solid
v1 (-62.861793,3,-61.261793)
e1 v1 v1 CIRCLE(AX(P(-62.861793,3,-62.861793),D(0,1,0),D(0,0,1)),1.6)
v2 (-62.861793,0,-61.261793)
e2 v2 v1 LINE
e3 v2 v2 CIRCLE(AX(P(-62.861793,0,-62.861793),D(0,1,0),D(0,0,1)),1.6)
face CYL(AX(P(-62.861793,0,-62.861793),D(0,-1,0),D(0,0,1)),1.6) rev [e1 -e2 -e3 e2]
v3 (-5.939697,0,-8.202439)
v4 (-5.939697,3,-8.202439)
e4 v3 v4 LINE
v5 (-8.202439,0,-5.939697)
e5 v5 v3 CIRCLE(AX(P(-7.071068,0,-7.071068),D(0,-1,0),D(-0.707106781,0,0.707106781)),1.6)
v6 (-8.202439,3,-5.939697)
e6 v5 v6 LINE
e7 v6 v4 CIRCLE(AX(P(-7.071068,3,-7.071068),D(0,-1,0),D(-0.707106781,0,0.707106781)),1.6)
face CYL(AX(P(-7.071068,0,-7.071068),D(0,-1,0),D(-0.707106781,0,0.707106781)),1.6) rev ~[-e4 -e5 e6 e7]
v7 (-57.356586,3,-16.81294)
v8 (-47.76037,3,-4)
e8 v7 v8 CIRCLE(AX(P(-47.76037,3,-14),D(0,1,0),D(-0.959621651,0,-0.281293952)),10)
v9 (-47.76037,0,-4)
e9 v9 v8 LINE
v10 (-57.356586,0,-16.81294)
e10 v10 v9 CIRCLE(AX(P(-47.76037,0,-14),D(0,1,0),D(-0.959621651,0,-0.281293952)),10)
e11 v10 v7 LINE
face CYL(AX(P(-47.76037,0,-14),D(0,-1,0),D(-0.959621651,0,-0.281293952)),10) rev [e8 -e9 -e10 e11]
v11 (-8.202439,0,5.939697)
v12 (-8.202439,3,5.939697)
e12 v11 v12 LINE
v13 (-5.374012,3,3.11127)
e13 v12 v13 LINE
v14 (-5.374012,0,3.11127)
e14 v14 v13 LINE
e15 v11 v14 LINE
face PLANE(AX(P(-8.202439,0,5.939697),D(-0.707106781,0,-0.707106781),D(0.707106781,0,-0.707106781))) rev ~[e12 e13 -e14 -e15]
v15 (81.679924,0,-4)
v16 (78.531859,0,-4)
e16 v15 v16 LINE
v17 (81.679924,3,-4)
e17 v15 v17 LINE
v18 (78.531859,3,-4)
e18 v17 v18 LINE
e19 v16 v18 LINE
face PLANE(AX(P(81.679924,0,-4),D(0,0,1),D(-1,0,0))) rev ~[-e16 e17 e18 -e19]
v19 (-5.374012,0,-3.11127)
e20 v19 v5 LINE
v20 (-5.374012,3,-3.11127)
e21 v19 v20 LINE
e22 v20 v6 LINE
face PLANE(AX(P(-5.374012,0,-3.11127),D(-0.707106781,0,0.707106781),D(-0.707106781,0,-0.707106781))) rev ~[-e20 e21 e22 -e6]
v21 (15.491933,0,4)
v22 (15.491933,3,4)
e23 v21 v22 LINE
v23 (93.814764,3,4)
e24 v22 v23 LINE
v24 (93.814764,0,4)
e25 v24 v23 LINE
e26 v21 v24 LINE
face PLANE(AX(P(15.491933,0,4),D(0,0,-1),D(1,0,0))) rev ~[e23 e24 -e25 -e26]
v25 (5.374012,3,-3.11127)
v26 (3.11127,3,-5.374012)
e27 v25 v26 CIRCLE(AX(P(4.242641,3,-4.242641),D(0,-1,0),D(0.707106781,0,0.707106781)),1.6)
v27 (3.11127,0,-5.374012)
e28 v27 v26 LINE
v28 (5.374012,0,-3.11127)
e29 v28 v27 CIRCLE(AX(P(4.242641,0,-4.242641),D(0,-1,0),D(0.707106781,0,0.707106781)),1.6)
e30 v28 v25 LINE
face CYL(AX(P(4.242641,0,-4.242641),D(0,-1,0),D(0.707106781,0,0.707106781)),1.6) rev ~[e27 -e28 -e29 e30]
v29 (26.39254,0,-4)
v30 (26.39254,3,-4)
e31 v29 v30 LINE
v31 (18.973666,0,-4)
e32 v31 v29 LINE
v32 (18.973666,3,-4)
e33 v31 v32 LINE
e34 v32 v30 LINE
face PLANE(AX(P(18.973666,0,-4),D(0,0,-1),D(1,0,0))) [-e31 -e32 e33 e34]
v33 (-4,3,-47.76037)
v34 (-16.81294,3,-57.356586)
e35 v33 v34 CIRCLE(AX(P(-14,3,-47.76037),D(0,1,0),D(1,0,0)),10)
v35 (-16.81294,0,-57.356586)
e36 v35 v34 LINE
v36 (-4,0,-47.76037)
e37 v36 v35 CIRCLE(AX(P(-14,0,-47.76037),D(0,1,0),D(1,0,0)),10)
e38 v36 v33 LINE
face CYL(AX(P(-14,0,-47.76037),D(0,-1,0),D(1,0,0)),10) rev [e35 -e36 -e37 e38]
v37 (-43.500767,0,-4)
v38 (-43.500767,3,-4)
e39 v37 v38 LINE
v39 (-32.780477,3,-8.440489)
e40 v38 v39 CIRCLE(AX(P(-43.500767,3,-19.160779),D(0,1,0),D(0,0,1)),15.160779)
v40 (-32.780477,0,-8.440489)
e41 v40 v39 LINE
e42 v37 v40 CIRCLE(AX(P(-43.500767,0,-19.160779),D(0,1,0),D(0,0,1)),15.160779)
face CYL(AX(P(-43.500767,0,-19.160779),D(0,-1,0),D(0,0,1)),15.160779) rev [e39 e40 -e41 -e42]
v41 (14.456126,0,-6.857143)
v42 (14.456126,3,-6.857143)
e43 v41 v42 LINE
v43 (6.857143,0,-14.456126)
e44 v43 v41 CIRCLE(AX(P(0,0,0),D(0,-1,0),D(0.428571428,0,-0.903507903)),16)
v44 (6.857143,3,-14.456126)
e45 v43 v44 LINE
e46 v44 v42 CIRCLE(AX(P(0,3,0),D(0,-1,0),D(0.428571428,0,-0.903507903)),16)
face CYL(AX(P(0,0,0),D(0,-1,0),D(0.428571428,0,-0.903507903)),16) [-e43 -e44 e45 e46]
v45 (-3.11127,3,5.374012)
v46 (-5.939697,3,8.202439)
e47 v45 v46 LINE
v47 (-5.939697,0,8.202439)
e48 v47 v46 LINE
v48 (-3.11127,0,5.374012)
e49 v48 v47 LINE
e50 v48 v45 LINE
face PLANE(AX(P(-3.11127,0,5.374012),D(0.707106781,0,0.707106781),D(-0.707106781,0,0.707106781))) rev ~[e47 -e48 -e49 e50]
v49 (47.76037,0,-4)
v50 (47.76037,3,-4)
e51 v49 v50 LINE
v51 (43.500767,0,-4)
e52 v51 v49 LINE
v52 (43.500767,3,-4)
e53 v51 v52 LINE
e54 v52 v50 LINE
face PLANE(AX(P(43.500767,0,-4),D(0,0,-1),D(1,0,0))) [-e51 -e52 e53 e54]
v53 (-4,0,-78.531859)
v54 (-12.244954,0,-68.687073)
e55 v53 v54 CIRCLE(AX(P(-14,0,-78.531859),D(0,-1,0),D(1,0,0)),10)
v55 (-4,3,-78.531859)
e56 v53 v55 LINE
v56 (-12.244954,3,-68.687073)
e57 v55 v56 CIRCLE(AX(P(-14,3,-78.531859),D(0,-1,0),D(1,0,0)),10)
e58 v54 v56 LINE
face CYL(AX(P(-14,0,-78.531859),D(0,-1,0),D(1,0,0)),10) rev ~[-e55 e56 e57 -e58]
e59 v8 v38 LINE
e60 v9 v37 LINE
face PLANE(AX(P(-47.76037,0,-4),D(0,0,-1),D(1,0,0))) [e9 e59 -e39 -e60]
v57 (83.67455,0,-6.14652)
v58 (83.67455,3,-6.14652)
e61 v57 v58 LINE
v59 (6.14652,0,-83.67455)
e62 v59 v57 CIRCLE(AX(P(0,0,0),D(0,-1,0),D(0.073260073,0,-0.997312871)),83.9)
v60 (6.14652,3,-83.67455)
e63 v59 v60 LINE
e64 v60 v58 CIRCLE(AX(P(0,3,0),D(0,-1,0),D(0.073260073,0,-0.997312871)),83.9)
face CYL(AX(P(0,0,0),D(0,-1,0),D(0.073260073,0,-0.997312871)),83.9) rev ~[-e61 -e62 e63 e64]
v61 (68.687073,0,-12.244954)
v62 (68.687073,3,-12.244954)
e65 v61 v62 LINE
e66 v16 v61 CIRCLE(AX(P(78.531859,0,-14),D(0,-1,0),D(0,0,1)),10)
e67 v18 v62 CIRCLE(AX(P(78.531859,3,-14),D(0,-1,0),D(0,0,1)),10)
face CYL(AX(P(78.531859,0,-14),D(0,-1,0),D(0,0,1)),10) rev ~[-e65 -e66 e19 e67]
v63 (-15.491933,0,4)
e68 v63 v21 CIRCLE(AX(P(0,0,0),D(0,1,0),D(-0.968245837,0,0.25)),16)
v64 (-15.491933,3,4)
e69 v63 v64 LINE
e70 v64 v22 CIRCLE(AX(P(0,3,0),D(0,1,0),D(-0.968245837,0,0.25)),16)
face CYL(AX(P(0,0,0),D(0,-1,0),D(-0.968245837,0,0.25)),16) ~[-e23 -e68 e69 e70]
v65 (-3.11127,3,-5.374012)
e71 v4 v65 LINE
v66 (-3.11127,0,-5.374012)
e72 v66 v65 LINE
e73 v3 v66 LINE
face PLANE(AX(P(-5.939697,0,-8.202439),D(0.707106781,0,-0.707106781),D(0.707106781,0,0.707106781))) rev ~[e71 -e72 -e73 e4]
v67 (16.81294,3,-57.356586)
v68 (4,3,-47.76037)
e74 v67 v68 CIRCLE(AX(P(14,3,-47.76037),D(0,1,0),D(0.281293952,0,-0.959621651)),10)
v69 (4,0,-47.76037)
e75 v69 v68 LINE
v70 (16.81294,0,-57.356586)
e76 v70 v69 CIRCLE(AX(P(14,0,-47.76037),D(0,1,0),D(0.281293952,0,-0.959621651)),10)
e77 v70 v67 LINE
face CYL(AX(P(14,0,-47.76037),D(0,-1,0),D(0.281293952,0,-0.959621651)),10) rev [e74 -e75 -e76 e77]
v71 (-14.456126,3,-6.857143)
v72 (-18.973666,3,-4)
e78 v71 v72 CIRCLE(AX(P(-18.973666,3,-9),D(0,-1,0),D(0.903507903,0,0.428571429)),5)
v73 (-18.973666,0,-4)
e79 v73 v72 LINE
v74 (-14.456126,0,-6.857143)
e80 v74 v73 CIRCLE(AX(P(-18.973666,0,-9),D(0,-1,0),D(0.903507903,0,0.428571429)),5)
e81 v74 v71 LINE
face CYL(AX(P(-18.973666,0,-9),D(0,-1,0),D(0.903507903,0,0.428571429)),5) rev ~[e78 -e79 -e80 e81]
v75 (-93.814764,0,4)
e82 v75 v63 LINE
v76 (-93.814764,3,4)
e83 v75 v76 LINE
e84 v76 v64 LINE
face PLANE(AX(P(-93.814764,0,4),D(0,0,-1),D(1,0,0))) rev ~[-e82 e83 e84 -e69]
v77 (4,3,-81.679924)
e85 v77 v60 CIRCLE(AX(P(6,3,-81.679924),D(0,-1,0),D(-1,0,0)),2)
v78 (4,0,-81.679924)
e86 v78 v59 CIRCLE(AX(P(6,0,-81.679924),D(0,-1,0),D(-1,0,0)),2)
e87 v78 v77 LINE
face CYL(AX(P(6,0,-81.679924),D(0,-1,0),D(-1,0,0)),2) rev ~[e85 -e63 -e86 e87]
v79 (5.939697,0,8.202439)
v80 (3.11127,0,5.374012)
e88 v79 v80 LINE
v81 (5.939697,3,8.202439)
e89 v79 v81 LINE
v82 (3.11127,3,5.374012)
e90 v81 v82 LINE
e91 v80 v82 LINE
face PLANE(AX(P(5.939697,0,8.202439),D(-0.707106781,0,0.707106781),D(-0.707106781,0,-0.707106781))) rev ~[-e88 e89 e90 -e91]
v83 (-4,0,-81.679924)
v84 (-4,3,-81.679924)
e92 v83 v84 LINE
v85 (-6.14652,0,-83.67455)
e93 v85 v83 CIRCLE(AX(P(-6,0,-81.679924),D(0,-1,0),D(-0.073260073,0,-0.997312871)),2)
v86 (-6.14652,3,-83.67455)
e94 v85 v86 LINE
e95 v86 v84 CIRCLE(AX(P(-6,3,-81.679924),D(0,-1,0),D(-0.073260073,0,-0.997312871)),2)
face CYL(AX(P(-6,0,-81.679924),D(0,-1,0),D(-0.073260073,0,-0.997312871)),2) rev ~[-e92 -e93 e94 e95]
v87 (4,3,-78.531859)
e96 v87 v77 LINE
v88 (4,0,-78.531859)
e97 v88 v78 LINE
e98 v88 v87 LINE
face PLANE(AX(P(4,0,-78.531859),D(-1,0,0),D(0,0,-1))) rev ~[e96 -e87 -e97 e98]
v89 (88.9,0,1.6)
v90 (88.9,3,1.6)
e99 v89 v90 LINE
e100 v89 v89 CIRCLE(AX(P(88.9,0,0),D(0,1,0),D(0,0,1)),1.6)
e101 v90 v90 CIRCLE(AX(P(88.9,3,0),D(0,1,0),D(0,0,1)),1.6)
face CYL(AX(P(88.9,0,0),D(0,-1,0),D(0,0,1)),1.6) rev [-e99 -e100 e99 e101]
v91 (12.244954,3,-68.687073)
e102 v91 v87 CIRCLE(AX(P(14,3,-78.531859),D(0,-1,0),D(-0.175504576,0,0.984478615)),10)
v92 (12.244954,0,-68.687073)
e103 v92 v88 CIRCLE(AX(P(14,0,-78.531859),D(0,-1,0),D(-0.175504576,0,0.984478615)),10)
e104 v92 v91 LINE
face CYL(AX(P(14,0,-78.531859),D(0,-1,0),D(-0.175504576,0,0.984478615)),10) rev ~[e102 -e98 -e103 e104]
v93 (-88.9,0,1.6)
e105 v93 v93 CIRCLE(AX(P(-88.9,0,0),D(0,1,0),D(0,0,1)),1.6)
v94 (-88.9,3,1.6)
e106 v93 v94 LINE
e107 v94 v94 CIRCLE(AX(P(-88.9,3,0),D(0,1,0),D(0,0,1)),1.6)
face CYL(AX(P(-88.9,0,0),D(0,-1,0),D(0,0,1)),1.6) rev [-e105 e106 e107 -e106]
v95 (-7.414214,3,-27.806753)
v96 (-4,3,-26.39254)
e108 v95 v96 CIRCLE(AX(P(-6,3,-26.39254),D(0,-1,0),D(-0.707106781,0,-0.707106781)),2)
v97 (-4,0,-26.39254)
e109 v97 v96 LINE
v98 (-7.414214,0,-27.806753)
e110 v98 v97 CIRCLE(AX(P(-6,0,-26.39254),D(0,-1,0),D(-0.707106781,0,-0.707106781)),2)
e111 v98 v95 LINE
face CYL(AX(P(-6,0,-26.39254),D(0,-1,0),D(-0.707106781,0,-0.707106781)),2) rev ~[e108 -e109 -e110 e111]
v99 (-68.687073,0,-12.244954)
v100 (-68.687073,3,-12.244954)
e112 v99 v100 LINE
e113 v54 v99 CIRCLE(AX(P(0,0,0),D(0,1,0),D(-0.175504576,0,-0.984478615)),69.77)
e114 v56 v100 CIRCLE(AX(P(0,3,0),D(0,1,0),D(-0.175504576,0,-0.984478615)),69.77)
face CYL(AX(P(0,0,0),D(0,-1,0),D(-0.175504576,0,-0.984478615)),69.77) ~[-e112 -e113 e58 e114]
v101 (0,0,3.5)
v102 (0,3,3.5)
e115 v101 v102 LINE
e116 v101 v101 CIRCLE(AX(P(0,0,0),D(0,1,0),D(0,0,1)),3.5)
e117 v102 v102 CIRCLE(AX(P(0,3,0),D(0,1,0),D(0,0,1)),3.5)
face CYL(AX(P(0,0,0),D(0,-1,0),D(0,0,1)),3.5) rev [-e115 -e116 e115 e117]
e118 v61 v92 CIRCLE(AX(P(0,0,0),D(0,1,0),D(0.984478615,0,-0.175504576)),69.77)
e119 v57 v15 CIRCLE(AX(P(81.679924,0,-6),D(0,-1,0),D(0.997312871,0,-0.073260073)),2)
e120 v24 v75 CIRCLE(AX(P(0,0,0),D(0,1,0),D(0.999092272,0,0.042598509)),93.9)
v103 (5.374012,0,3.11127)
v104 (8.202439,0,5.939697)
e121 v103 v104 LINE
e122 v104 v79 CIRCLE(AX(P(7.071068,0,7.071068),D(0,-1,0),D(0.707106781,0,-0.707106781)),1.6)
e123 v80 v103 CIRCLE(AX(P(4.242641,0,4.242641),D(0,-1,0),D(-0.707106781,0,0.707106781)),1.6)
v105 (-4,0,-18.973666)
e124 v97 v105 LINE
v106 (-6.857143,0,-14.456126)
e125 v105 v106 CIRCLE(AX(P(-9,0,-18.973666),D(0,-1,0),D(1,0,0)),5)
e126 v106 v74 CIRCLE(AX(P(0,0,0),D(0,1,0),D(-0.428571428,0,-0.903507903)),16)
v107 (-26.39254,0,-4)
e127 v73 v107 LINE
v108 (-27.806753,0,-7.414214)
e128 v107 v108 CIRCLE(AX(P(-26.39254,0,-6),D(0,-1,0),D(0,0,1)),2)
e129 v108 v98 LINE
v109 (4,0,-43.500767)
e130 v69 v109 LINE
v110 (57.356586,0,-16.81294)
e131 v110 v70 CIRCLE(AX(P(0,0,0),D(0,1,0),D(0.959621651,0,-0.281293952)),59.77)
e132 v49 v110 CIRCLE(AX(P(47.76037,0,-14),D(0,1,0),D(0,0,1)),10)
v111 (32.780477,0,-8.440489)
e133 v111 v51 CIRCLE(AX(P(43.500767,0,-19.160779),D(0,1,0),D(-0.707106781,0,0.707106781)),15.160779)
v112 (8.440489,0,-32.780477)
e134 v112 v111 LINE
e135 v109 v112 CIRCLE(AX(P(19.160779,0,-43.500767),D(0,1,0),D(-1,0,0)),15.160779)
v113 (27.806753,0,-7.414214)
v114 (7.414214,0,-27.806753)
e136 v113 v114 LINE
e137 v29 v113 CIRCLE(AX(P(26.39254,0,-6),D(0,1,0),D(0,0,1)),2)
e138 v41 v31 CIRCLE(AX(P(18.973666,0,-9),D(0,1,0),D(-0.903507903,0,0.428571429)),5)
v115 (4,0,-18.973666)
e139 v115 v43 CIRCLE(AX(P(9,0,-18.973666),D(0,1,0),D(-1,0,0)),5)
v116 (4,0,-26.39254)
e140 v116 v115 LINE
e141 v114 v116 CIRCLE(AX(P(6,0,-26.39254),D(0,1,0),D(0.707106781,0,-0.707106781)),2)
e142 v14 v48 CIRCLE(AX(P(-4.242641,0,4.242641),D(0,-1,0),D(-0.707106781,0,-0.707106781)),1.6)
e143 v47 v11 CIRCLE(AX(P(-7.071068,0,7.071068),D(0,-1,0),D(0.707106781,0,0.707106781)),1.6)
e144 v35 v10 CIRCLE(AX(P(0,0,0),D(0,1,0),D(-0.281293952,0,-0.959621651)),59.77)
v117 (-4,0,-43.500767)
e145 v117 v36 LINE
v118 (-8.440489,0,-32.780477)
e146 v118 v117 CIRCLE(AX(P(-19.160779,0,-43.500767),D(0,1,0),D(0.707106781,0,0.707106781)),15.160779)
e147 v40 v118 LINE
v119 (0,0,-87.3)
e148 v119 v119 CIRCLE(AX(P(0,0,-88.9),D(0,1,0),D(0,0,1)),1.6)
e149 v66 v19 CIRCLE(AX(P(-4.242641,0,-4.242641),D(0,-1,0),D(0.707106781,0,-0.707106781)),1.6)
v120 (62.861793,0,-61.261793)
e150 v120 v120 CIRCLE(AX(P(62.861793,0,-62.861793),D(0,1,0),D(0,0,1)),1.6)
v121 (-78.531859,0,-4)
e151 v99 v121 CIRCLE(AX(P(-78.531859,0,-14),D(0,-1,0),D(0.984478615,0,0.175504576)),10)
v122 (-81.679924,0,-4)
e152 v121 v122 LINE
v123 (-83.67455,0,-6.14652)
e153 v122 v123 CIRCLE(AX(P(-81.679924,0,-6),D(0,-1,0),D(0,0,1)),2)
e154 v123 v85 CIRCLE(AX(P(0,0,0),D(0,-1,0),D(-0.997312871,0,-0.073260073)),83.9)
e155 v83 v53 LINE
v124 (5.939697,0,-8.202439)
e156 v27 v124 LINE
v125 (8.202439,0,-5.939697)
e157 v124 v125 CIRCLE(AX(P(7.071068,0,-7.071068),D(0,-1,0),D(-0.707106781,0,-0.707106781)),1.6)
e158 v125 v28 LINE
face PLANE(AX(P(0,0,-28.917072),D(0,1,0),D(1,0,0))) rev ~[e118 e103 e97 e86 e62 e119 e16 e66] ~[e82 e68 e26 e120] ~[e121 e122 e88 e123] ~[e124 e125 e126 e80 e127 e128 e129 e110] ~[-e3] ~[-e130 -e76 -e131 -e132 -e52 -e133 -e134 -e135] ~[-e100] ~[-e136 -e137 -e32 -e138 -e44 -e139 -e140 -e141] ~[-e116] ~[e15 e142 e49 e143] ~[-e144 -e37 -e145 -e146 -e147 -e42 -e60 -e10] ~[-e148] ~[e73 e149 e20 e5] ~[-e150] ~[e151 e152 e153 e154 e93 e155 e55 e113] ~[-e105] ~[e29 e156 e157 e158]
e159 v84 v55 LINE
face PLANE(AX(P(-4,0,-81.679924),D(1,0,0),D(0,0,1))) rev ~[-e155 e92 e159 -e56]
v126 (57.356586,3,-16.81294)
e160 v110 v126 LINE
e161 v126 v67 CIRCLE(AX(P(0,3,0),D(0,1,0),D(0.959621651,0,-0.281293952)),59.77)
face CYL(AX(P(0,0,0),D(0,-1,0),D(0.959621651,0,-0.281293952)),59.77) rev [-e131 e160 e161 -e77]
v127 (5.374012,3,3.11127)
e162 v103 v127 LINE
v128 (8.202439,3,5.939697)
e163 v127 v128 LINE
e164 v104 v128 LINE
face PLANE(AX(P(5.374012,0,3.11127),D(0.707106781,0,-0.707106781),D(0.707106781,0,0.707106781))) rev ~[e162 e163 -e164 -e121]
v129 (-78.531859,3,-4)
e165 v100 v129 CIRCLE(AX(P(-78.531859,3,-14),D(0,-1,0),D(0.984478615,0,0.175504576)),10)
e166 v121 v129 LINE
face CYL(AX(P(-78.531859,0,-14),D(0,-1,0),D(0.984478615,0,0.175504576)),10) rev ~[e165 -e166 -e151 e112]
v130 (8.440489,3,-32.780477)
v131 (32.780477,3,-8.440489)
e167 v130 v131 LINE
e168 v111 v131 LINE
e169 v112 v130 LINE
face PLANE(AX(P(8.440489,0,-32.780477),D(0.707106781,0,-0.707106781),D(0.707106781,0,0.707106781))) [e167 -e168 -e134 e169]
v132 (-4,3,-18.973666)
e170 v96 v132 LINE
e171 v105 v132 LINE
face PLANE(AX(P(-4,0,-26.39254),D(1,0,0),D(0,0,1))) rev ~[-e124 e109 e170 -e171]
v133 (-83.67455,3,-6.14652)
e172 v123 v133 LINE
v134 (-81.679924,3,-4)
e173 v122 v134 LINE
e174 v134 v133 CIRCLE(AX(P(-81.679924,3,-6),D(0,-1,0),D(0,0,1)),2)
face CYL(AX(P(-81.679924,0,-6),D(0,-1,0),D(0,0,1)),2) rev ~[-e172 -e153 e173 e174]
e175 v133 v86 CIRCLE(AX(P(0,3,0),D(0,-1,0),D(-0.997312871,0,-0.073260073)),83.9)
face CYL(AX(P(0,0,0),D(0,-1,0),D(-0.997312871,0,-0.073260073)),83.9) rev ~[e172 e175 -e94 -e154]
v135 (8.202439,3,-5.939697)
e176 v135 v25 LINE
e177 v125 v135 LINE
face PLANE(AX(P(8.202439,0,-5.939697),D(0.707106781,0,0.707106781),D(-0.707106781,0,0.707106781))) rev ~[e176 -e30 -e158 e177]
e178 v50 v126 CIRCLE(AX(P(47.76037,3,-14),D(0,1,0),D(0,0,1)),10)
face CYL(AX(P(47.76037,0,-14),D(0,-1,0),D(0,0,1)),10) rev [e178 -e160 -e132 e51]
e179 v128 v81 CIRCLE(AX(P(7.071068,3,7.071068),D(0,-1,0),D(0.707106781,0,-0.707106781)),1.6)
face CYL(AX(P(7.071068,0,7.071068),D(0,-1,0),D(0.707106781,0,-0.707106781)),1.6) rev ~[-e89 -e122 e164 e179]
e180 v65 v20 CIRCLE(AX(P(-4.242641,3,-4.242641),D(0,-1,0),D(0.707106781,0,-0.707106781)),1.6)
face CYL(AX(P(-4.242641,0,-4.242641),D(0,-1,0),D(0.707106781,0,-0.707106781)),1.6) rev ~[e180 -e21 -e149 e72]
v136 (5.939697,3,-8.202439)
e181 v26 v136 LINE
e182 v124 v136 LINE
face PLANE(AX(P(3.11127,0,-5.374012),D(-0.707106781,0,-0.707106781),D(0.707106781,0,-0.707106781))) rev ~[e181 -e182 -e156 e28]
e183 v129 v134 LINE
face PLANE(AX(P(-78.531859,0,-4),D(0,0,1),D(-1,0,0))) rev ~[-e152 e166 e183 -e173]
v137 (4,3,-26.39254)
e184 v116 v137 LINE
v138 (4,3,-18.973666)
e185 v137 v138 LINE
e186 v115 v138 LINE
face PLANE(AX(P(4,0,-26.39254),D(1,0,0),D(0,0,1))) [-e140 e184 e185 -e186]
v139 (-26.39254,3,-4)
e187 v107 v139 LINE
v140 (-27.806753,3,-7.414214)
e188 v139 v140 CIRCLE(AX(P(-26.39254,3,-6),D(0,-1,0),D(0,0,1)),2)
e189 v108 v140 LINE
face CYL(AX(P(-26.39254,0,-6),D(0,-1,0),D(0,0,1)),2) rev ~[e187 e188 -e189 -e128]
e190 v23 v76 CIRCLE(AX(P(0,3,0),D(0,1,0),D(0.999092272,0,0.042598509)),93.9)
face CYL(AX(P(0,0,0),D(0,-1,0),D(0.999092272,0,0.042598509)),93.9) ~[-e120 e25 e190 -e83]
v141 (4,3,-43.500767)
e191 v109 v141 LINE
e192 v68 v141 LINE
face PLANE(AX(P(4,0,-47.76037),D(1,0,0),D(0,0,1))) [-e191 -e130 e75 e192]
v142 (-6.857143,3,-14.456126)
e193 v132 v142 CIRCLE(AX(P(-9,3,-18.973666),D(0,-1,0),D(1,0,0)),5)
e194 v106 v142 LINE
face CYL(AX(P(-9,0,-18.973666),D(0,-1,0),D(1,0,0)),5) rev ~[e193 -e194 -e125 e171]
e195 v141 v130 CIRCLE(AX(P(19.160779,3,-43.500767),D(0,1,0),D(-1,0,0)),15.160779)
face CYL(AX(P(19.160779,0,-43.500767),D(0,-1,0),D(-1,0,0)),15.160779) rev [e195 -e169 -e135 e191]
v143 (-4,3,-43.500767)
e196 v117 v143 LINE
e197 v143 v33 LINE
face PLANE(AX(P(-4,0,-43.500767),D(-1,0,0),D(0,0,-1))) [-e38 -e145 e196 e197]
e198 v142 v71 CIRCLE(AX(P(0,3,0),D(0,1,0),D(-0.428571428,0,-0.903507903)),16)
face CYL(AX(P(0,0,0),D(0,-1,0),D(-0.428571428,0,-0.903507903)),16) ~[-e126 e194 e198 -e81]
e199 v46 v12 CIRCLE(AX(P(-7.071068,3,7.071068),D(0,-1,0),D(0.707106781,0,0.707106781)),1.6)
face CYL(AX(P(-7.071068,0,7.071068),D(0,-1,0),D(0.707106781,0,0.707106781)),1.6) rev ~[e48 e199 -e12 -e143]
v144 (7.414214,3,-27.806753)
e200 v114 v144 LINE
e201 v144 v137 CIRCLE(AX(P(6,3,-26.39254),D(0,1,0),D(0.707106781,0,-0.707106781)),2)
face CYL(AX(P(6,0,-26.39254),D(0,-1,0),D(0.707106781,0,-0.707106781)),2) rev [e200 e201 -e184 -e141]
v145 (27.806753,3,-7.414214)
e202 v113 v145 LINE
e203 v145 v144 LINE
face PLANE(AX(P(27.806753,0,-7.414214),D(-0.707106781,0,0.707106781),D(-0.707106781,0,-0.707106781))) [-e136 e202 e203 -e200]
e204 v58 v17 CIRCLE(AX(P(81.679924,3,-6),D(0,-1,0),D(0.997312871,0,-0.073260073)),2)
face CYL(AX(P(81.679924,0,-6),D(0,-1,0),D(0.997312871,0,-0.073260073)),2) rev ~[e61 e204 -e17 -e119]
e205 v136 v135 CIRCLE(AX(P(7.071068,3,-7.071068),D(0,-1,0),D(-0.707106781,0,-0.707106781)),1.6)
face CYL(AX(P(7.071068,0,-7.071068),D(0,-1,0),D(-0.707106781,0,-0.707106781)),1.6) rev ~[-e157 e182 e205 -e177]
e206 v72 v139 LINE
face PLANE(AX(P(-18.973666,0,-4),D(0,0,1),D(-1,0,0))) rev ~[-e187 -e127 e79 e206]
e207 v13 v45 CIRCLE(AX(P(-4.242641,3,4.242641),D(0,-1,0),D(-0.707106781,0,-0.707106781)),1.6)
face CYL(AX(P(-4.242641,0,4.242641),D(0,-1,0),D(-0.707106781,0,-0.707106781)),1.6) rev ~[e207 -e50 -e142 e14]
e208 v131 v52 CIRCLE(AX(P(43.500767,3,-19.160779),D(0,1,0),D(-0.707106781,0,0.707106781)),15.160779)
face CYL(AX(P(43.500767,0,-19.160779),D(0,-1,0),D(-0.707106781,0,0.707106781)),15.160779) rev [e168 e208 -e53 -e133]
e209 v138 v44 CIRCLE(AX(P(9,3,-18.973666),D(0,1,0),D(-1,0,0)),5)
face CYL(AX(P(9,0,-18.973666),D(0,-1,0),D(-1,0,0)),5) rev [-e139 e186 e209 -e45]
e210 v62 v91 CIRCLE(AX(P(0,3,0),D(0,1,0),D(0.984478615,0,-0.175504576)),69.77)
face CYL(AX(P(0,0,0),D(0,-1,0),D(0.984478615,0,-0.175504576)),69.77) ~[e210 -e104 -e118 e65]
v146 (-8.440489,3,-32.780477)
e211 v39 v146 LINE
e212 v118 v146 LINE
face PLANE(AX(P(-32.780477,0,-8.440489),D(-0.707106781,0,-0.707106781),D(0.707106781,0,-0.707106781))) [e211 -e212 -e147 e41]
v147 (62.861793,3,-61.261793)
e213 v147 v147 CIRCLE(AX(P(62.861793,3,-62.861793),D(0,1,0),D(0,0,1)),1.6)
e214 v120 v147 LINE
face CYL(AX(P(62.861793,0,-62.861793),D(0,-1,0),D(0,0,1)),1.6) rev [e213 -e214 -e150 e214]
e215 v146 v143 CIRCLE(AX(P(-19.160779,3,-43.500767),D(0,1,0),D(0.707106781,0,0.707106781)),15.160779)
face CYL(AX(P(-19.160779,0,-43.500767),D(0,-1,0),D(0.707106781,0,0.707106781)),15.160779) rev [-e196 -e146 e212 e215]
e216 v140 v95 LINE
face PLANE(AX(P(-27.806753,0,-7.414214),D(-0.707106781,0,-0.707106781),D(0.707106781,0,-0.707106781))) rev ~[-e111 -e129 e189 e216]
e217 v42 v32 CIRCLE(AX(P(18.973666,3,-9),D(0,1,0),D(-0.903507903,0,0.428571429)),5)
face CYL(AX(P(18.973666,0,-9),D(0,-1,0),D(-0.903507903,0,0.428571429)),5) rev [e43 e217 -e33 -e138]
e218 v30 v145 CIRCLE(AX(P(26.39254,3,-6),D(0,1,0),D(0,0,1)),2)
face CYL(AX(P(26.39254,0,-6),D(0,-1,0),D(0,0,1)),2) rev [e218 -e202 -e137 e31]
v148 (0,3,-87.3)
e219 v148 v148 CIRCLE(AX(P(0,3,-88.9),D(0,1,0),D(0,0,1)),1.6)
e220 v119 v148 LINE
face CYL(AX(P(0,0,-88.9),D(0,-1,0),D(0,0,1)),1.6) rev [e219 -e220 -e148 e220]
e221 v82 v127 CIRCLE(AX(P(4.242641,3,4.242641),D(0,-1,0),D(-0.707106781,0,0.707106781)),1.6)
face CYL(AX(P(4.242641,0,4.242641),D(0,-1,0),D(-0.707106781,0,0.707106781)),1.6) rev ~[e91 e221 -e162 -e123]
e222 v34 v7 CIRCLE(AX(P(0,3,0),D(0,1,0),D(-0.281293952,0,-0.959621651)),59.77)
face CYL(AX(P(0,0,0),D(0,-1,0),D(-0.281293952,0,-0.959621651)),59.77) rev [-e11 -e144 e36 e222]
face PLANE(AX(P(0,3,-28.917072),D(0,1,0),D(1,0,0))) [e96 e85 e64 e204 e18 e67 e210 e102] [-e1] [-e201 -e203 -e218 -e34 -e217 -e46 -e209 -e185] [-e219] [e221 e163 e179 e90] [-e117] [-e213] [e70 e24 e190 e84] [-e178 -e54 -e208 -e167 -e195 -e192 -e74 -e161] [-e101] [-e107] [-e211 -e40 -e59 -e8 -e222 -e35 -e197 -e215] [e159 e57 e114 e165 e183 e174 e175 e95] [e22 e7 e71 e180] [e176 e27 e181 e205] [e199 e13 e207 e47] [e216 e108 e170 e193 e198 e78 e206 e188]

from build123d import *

# Parameters (mm, degrees)
SKETCH_1_R      = 1.6
SKETCH_1_R_2    = 3.5
EXTRUDE_1_DEPTH = 3


with BuildPart() as part:
    # 草图1 → 凸台-拉伸1 (new body)
    with BuildSketch(Plane(origin=(0, 0, 0), x_dir=(1, 0, 0), z_dir=(0, 1, 0))):
        with BuildLine():
            Line((46.95, -4), (83.804594146, -4))
            Line((83.804594146, -4), (93.814764296, -4))
            ThreePointArc((93.814764296, -4), (0, 93.9), (-93.814764296, -4))
            Line((-93.814764296, -4), (-83.804594146, -4))
            Line((-83.804594146, -4), (-46.95, -4))
            Line((-46.95, -4), (-15.491933385, -4))
            ThreePointArc((-15.491933385, -4), (0, -16), (15.491933385, -4))
            Line((15.491933385, -4), (46.95, -4))
        make_face()
        with Locations(Location((88.9, 0, 0), (0, 0, 270))):
            Circle(SKETCH_1_R, mode=Mode.SUBTRACT)
        with Locations(Location((-88.9, 0, 0), (0, 0, 270))):
            Circle(SKETCH_1_R, mode=Mode.SUBTRACT)
        with Locations(Location((-62.861792847, 62.861792847, 0), (0, 0, 270))):
            Circle(SKETCH_1_R, mode=Mode.SUBTRACT)
        with Locations(Location((0, 88.9, 0), (0, 0, 270))):
            Circle(SKETCH_1_R, mode=Mode.SUBTRACT)
        with Locations(Location((62.861792847, 62.861792847, 0), (0, 0, 270))):
            Circle(SKETCH_1_R, mode=Mode.SUBTRACT)
        with Locations(Location((0, 0, 0), (0, 0, 270))):
            Circle(SKETCH_1_R_2, mode=Mode.SUBTRACT)
        with BuildLine():
            Line((46.95, 4), (47.760369555, 4))
            ThreePointArc((47.760369555, 4), (55.764412134, 8.005393892), (57.356586062, 16.812939522))
            ThreePointArc((57.356586062, 16.812939522), (42.263772312, 42.263772312), (16.812939522, 57.356586062))
            ThreePointArc((16.812939522, 57.356586062), (8.005393892, 55.764412134), (4, 47.760369555))
            Line((4, 47.760369555), (4, 46.95))
            Line((4, 46.95), (4, 43.500766957))
            ThreePointArc((4, 43.500766957), (5.154045583, 37.698988024), (8.440489352, 32.780477341))
            Line((8.440489352, 32.780477341), (32.780477341, 8.440489352))
            ThreePointArc((32.780477341, 8.440489352), (37.698988024, 5.154045583), (43.500766957, 4))
            Line((43.500766957, 4), (46.95, 4))
        make_face(mode=Mode.SUBTRACT)
        with BuildLine():
            Line((-46.95, 4), (-43.500766957, 4))
            ThreePointArc((-43.500766957, 4), (-37.698988024, 5.154045583), (-32.780477341, 8.440489352))
            Line((-32.780477341, 8.440489352), (-8.440489352, 32.780477341))
            ThreePointArc((-8.440489352, 32.780477341), (-5.154045583, 37.698988024), (-4, 43.500766957))
            Line((-4, 43.500766957), (-4, 46.95))
            Line((-4, 46.95), (-4, 47.760369555))
            ThreePointArc((-4, 47.760369555), (-8.005393892, 55.764412134), (-16.812939522, 57.356586062))
            ThreePointArc((-16.812939522, 57.356586062), (-42.263772312, 42.263772312), (-57.356586062, 16.812939522))
            ThreePointArc((-57.356586062, 16.812939522), (-55.764412134, 8.005393892), (-47.760369555, 4))
            Line((-47.760369555, 4), (-46.95, 4))
        make_face(mode=Mode.SUBTRACT)
        with BuildLine():
            Line((-78.53185914, 4), (-81.679924094, 4))
            ThreePointArc((-81.679924094, 4), (-83.145024823, 4.638574331), (-83.674549835, 6.146520147))
            ThreePointArc((-83.674549835, 6.146520147), (-59.326258942, 59.326258942), (-6.146520147, 83.674549835))
            ThreePointArc((-6.146520147, 83.674549835), (-4.638574331, 83.145024823), (-4, 81.679924094))
            Line((-4, 81.679924094), (-4, 78.53185914))
            ThreePointArc((-4, 78.53185914), (-6.333499574, 72.111207209), (-12.244954243, 68.687072987))
            ThreePointArc((-12.244954243, 68.687072987), (-49.334840123, 49.334840123), (-68.687072987, 12.244954243))
            ThreePointArc((-68.687072987, 12.244954243), (-72.111207209, 6.333499574), (-78.53185914, 4))
        make_face(mode=Mode.SUBTRACT)
        with BuildLine():
            Line((4, 78.53185914), (4, 81.679924094))
            ThreePointArc((4, 81.679924094), (4.638574331, 83.145024823), (6.146520147, 83.674549835))
            ThreePointArc((6.146520147, 83.674549835), (59.326258942, 59.326258942), (83.674549835, 6.146520147))
            ThreePointArc((83.674549835, 6.146520147), (83.145024823, 4.638574331), (81.679924094, 4))
            Line((81.679924094, 4), (78.53185914, 4))
            ThreePointArc((78.53185914, 4), (72.111207209, 6.333499574), (68.687072987, 12.244954243))
            ThreePointArc((68.687072987, 12.244954243), (49.334840123, 49.334840123), (12.244954243, 68.687072987))
            ThreePointArc((12.244954243, 68.687072987), (6.333499574, 72.111207209), (4, 78.53185914))
        make_face(mode=Mode.SUBTRACT)
        with BuildLine():
            Line((-27.80675313, 7.414213562), (-7.414213562, 27.80675313))
            ThreePointArc((-7.414213562, 27.80675313), (-5.234633135, 28.240298633), (-4, 26.392539568))
            Line((-4, 26.392539568), (-4, 18.973665961))
            ThreePointArc((-4, 18.973665961), (-4.774228726, 16.301053542), (-6.857142857, 14.456126446))
            ThreePointArc((-6.857142857, 14.456126446), (-11.313708499, 11.313708499), (-14.456126446, 6.857142857))
            ThreePointArc((-14.456126446, 6.857142857), (-16.301053542, 4.774228726), (-18.973665961, 4))
            Line((-18.973665961, 4), (-26.392539568, 4))
            ThreePointArc((-26.392539568, 4), (-28.240298633, 5.234633135), (-27.80675313, 7.414213562))
        make_face(mode=Mode.SUBTRACT)
        with BuildLine():
            Line((27.80675313, 7.414213562), (7.414213562, 27.80675313))
            ThreePointArc((7.414213562, 27.80675313), (5.234633135, 28.240298633), (4, 26.392539568))
            Line((4, 26.392539568), (4, 18.973665961))
            ThreePointArc((4, 18.973665961), (4.774228726, 16.301053542), (6.857142857, 14.456126446))
            ThreePointArc((6.857142857, 14.456126446), (11.313708499, 11.313708499), (14.456126446, 6.857142857))
            ThreePointArc((14.456126446, 6.857142857), (16.301053542, 4.774228726), (18.973665961, 4))
            Line((18.973665961, 4), (26.392539568, 4))
            ThreePointArc((26.392539568, 4), (28.240298633, 5.234633135), (27.80675313, 7.414213562))
        make_face(mode=Mode.SUBTRACT)
        with BuildLine():
            Line((5.939696962, -8.202438662), (3.111269837, -5.374011537))
            ThreePointArc((3.111269837, -5.374011537), (3.111269837, -3.111269837), (5.374011537, -3.111269837))
            Line((5.374011537, -3.111269837), (8.202438662, -5.939696962))
            ThreePointArc((8.202438662, -5.939696962), (8.202438662, -8.202438662), (5.939696962, -8.202438662))
        make_face(mode=Mode.SUBTRACT)
        with BuildLine():
            Line((-8.202438662, -5.939696962), (-5.374011537, -3.111269837))
            ThreePointArc((-5.374011537, -3.111269837), (-3.111269837, -3.111269837), (-3.111269837, -5.374011537))
            Line((-3.111269837, -5.374011537), (-5.939696962, -8.202438662))
            ThreePointArc((-5.939696962, -8.202438662), (-8.202438662, -8.202438662), (-8.202438662, -5.939696962))
        make_face(mode=Mode.SUBTRACT)
        with BuildLine():
            Line((-5.939696962, 8.202438662), (-3.111269837, 5.374011537))
            ThreePointArc((-3.111269837, 5.374011537), (-3.111269837, 3.111269837), (-5.374011537, 3.111269837))
            Line((-5.374011537, 3.111269837), (-8.202438662, 5.939696962))
            ThreePointArc((-8.202438662, 5.939696962), (-8.202438662, 8.202438662), (-5.939696962, 8.202438662))
        make_face(mode=Mode.SUBTRACT)
        with BuildLine():
            Line((8.202438662, 5.939696962), (5.374011537, 3.111269837))
            ThreePointArc((5.374011537, 3.111269837), (3.111269837, 3.111269837), (3.111269837, 5.374011537))
            Line((3.111269837, 5.374011537), (5.939696962, 8.202438662))
            ThreePointArc((5.939696962, 8.202438662), (8.202438662, 8.202438662), (8.202438662, 5.939696962))
        make_face(mode=Mode.SUBTRACT)
    extrude(amount=EXTRUDE_1_DEPTH)


solid = part.part
